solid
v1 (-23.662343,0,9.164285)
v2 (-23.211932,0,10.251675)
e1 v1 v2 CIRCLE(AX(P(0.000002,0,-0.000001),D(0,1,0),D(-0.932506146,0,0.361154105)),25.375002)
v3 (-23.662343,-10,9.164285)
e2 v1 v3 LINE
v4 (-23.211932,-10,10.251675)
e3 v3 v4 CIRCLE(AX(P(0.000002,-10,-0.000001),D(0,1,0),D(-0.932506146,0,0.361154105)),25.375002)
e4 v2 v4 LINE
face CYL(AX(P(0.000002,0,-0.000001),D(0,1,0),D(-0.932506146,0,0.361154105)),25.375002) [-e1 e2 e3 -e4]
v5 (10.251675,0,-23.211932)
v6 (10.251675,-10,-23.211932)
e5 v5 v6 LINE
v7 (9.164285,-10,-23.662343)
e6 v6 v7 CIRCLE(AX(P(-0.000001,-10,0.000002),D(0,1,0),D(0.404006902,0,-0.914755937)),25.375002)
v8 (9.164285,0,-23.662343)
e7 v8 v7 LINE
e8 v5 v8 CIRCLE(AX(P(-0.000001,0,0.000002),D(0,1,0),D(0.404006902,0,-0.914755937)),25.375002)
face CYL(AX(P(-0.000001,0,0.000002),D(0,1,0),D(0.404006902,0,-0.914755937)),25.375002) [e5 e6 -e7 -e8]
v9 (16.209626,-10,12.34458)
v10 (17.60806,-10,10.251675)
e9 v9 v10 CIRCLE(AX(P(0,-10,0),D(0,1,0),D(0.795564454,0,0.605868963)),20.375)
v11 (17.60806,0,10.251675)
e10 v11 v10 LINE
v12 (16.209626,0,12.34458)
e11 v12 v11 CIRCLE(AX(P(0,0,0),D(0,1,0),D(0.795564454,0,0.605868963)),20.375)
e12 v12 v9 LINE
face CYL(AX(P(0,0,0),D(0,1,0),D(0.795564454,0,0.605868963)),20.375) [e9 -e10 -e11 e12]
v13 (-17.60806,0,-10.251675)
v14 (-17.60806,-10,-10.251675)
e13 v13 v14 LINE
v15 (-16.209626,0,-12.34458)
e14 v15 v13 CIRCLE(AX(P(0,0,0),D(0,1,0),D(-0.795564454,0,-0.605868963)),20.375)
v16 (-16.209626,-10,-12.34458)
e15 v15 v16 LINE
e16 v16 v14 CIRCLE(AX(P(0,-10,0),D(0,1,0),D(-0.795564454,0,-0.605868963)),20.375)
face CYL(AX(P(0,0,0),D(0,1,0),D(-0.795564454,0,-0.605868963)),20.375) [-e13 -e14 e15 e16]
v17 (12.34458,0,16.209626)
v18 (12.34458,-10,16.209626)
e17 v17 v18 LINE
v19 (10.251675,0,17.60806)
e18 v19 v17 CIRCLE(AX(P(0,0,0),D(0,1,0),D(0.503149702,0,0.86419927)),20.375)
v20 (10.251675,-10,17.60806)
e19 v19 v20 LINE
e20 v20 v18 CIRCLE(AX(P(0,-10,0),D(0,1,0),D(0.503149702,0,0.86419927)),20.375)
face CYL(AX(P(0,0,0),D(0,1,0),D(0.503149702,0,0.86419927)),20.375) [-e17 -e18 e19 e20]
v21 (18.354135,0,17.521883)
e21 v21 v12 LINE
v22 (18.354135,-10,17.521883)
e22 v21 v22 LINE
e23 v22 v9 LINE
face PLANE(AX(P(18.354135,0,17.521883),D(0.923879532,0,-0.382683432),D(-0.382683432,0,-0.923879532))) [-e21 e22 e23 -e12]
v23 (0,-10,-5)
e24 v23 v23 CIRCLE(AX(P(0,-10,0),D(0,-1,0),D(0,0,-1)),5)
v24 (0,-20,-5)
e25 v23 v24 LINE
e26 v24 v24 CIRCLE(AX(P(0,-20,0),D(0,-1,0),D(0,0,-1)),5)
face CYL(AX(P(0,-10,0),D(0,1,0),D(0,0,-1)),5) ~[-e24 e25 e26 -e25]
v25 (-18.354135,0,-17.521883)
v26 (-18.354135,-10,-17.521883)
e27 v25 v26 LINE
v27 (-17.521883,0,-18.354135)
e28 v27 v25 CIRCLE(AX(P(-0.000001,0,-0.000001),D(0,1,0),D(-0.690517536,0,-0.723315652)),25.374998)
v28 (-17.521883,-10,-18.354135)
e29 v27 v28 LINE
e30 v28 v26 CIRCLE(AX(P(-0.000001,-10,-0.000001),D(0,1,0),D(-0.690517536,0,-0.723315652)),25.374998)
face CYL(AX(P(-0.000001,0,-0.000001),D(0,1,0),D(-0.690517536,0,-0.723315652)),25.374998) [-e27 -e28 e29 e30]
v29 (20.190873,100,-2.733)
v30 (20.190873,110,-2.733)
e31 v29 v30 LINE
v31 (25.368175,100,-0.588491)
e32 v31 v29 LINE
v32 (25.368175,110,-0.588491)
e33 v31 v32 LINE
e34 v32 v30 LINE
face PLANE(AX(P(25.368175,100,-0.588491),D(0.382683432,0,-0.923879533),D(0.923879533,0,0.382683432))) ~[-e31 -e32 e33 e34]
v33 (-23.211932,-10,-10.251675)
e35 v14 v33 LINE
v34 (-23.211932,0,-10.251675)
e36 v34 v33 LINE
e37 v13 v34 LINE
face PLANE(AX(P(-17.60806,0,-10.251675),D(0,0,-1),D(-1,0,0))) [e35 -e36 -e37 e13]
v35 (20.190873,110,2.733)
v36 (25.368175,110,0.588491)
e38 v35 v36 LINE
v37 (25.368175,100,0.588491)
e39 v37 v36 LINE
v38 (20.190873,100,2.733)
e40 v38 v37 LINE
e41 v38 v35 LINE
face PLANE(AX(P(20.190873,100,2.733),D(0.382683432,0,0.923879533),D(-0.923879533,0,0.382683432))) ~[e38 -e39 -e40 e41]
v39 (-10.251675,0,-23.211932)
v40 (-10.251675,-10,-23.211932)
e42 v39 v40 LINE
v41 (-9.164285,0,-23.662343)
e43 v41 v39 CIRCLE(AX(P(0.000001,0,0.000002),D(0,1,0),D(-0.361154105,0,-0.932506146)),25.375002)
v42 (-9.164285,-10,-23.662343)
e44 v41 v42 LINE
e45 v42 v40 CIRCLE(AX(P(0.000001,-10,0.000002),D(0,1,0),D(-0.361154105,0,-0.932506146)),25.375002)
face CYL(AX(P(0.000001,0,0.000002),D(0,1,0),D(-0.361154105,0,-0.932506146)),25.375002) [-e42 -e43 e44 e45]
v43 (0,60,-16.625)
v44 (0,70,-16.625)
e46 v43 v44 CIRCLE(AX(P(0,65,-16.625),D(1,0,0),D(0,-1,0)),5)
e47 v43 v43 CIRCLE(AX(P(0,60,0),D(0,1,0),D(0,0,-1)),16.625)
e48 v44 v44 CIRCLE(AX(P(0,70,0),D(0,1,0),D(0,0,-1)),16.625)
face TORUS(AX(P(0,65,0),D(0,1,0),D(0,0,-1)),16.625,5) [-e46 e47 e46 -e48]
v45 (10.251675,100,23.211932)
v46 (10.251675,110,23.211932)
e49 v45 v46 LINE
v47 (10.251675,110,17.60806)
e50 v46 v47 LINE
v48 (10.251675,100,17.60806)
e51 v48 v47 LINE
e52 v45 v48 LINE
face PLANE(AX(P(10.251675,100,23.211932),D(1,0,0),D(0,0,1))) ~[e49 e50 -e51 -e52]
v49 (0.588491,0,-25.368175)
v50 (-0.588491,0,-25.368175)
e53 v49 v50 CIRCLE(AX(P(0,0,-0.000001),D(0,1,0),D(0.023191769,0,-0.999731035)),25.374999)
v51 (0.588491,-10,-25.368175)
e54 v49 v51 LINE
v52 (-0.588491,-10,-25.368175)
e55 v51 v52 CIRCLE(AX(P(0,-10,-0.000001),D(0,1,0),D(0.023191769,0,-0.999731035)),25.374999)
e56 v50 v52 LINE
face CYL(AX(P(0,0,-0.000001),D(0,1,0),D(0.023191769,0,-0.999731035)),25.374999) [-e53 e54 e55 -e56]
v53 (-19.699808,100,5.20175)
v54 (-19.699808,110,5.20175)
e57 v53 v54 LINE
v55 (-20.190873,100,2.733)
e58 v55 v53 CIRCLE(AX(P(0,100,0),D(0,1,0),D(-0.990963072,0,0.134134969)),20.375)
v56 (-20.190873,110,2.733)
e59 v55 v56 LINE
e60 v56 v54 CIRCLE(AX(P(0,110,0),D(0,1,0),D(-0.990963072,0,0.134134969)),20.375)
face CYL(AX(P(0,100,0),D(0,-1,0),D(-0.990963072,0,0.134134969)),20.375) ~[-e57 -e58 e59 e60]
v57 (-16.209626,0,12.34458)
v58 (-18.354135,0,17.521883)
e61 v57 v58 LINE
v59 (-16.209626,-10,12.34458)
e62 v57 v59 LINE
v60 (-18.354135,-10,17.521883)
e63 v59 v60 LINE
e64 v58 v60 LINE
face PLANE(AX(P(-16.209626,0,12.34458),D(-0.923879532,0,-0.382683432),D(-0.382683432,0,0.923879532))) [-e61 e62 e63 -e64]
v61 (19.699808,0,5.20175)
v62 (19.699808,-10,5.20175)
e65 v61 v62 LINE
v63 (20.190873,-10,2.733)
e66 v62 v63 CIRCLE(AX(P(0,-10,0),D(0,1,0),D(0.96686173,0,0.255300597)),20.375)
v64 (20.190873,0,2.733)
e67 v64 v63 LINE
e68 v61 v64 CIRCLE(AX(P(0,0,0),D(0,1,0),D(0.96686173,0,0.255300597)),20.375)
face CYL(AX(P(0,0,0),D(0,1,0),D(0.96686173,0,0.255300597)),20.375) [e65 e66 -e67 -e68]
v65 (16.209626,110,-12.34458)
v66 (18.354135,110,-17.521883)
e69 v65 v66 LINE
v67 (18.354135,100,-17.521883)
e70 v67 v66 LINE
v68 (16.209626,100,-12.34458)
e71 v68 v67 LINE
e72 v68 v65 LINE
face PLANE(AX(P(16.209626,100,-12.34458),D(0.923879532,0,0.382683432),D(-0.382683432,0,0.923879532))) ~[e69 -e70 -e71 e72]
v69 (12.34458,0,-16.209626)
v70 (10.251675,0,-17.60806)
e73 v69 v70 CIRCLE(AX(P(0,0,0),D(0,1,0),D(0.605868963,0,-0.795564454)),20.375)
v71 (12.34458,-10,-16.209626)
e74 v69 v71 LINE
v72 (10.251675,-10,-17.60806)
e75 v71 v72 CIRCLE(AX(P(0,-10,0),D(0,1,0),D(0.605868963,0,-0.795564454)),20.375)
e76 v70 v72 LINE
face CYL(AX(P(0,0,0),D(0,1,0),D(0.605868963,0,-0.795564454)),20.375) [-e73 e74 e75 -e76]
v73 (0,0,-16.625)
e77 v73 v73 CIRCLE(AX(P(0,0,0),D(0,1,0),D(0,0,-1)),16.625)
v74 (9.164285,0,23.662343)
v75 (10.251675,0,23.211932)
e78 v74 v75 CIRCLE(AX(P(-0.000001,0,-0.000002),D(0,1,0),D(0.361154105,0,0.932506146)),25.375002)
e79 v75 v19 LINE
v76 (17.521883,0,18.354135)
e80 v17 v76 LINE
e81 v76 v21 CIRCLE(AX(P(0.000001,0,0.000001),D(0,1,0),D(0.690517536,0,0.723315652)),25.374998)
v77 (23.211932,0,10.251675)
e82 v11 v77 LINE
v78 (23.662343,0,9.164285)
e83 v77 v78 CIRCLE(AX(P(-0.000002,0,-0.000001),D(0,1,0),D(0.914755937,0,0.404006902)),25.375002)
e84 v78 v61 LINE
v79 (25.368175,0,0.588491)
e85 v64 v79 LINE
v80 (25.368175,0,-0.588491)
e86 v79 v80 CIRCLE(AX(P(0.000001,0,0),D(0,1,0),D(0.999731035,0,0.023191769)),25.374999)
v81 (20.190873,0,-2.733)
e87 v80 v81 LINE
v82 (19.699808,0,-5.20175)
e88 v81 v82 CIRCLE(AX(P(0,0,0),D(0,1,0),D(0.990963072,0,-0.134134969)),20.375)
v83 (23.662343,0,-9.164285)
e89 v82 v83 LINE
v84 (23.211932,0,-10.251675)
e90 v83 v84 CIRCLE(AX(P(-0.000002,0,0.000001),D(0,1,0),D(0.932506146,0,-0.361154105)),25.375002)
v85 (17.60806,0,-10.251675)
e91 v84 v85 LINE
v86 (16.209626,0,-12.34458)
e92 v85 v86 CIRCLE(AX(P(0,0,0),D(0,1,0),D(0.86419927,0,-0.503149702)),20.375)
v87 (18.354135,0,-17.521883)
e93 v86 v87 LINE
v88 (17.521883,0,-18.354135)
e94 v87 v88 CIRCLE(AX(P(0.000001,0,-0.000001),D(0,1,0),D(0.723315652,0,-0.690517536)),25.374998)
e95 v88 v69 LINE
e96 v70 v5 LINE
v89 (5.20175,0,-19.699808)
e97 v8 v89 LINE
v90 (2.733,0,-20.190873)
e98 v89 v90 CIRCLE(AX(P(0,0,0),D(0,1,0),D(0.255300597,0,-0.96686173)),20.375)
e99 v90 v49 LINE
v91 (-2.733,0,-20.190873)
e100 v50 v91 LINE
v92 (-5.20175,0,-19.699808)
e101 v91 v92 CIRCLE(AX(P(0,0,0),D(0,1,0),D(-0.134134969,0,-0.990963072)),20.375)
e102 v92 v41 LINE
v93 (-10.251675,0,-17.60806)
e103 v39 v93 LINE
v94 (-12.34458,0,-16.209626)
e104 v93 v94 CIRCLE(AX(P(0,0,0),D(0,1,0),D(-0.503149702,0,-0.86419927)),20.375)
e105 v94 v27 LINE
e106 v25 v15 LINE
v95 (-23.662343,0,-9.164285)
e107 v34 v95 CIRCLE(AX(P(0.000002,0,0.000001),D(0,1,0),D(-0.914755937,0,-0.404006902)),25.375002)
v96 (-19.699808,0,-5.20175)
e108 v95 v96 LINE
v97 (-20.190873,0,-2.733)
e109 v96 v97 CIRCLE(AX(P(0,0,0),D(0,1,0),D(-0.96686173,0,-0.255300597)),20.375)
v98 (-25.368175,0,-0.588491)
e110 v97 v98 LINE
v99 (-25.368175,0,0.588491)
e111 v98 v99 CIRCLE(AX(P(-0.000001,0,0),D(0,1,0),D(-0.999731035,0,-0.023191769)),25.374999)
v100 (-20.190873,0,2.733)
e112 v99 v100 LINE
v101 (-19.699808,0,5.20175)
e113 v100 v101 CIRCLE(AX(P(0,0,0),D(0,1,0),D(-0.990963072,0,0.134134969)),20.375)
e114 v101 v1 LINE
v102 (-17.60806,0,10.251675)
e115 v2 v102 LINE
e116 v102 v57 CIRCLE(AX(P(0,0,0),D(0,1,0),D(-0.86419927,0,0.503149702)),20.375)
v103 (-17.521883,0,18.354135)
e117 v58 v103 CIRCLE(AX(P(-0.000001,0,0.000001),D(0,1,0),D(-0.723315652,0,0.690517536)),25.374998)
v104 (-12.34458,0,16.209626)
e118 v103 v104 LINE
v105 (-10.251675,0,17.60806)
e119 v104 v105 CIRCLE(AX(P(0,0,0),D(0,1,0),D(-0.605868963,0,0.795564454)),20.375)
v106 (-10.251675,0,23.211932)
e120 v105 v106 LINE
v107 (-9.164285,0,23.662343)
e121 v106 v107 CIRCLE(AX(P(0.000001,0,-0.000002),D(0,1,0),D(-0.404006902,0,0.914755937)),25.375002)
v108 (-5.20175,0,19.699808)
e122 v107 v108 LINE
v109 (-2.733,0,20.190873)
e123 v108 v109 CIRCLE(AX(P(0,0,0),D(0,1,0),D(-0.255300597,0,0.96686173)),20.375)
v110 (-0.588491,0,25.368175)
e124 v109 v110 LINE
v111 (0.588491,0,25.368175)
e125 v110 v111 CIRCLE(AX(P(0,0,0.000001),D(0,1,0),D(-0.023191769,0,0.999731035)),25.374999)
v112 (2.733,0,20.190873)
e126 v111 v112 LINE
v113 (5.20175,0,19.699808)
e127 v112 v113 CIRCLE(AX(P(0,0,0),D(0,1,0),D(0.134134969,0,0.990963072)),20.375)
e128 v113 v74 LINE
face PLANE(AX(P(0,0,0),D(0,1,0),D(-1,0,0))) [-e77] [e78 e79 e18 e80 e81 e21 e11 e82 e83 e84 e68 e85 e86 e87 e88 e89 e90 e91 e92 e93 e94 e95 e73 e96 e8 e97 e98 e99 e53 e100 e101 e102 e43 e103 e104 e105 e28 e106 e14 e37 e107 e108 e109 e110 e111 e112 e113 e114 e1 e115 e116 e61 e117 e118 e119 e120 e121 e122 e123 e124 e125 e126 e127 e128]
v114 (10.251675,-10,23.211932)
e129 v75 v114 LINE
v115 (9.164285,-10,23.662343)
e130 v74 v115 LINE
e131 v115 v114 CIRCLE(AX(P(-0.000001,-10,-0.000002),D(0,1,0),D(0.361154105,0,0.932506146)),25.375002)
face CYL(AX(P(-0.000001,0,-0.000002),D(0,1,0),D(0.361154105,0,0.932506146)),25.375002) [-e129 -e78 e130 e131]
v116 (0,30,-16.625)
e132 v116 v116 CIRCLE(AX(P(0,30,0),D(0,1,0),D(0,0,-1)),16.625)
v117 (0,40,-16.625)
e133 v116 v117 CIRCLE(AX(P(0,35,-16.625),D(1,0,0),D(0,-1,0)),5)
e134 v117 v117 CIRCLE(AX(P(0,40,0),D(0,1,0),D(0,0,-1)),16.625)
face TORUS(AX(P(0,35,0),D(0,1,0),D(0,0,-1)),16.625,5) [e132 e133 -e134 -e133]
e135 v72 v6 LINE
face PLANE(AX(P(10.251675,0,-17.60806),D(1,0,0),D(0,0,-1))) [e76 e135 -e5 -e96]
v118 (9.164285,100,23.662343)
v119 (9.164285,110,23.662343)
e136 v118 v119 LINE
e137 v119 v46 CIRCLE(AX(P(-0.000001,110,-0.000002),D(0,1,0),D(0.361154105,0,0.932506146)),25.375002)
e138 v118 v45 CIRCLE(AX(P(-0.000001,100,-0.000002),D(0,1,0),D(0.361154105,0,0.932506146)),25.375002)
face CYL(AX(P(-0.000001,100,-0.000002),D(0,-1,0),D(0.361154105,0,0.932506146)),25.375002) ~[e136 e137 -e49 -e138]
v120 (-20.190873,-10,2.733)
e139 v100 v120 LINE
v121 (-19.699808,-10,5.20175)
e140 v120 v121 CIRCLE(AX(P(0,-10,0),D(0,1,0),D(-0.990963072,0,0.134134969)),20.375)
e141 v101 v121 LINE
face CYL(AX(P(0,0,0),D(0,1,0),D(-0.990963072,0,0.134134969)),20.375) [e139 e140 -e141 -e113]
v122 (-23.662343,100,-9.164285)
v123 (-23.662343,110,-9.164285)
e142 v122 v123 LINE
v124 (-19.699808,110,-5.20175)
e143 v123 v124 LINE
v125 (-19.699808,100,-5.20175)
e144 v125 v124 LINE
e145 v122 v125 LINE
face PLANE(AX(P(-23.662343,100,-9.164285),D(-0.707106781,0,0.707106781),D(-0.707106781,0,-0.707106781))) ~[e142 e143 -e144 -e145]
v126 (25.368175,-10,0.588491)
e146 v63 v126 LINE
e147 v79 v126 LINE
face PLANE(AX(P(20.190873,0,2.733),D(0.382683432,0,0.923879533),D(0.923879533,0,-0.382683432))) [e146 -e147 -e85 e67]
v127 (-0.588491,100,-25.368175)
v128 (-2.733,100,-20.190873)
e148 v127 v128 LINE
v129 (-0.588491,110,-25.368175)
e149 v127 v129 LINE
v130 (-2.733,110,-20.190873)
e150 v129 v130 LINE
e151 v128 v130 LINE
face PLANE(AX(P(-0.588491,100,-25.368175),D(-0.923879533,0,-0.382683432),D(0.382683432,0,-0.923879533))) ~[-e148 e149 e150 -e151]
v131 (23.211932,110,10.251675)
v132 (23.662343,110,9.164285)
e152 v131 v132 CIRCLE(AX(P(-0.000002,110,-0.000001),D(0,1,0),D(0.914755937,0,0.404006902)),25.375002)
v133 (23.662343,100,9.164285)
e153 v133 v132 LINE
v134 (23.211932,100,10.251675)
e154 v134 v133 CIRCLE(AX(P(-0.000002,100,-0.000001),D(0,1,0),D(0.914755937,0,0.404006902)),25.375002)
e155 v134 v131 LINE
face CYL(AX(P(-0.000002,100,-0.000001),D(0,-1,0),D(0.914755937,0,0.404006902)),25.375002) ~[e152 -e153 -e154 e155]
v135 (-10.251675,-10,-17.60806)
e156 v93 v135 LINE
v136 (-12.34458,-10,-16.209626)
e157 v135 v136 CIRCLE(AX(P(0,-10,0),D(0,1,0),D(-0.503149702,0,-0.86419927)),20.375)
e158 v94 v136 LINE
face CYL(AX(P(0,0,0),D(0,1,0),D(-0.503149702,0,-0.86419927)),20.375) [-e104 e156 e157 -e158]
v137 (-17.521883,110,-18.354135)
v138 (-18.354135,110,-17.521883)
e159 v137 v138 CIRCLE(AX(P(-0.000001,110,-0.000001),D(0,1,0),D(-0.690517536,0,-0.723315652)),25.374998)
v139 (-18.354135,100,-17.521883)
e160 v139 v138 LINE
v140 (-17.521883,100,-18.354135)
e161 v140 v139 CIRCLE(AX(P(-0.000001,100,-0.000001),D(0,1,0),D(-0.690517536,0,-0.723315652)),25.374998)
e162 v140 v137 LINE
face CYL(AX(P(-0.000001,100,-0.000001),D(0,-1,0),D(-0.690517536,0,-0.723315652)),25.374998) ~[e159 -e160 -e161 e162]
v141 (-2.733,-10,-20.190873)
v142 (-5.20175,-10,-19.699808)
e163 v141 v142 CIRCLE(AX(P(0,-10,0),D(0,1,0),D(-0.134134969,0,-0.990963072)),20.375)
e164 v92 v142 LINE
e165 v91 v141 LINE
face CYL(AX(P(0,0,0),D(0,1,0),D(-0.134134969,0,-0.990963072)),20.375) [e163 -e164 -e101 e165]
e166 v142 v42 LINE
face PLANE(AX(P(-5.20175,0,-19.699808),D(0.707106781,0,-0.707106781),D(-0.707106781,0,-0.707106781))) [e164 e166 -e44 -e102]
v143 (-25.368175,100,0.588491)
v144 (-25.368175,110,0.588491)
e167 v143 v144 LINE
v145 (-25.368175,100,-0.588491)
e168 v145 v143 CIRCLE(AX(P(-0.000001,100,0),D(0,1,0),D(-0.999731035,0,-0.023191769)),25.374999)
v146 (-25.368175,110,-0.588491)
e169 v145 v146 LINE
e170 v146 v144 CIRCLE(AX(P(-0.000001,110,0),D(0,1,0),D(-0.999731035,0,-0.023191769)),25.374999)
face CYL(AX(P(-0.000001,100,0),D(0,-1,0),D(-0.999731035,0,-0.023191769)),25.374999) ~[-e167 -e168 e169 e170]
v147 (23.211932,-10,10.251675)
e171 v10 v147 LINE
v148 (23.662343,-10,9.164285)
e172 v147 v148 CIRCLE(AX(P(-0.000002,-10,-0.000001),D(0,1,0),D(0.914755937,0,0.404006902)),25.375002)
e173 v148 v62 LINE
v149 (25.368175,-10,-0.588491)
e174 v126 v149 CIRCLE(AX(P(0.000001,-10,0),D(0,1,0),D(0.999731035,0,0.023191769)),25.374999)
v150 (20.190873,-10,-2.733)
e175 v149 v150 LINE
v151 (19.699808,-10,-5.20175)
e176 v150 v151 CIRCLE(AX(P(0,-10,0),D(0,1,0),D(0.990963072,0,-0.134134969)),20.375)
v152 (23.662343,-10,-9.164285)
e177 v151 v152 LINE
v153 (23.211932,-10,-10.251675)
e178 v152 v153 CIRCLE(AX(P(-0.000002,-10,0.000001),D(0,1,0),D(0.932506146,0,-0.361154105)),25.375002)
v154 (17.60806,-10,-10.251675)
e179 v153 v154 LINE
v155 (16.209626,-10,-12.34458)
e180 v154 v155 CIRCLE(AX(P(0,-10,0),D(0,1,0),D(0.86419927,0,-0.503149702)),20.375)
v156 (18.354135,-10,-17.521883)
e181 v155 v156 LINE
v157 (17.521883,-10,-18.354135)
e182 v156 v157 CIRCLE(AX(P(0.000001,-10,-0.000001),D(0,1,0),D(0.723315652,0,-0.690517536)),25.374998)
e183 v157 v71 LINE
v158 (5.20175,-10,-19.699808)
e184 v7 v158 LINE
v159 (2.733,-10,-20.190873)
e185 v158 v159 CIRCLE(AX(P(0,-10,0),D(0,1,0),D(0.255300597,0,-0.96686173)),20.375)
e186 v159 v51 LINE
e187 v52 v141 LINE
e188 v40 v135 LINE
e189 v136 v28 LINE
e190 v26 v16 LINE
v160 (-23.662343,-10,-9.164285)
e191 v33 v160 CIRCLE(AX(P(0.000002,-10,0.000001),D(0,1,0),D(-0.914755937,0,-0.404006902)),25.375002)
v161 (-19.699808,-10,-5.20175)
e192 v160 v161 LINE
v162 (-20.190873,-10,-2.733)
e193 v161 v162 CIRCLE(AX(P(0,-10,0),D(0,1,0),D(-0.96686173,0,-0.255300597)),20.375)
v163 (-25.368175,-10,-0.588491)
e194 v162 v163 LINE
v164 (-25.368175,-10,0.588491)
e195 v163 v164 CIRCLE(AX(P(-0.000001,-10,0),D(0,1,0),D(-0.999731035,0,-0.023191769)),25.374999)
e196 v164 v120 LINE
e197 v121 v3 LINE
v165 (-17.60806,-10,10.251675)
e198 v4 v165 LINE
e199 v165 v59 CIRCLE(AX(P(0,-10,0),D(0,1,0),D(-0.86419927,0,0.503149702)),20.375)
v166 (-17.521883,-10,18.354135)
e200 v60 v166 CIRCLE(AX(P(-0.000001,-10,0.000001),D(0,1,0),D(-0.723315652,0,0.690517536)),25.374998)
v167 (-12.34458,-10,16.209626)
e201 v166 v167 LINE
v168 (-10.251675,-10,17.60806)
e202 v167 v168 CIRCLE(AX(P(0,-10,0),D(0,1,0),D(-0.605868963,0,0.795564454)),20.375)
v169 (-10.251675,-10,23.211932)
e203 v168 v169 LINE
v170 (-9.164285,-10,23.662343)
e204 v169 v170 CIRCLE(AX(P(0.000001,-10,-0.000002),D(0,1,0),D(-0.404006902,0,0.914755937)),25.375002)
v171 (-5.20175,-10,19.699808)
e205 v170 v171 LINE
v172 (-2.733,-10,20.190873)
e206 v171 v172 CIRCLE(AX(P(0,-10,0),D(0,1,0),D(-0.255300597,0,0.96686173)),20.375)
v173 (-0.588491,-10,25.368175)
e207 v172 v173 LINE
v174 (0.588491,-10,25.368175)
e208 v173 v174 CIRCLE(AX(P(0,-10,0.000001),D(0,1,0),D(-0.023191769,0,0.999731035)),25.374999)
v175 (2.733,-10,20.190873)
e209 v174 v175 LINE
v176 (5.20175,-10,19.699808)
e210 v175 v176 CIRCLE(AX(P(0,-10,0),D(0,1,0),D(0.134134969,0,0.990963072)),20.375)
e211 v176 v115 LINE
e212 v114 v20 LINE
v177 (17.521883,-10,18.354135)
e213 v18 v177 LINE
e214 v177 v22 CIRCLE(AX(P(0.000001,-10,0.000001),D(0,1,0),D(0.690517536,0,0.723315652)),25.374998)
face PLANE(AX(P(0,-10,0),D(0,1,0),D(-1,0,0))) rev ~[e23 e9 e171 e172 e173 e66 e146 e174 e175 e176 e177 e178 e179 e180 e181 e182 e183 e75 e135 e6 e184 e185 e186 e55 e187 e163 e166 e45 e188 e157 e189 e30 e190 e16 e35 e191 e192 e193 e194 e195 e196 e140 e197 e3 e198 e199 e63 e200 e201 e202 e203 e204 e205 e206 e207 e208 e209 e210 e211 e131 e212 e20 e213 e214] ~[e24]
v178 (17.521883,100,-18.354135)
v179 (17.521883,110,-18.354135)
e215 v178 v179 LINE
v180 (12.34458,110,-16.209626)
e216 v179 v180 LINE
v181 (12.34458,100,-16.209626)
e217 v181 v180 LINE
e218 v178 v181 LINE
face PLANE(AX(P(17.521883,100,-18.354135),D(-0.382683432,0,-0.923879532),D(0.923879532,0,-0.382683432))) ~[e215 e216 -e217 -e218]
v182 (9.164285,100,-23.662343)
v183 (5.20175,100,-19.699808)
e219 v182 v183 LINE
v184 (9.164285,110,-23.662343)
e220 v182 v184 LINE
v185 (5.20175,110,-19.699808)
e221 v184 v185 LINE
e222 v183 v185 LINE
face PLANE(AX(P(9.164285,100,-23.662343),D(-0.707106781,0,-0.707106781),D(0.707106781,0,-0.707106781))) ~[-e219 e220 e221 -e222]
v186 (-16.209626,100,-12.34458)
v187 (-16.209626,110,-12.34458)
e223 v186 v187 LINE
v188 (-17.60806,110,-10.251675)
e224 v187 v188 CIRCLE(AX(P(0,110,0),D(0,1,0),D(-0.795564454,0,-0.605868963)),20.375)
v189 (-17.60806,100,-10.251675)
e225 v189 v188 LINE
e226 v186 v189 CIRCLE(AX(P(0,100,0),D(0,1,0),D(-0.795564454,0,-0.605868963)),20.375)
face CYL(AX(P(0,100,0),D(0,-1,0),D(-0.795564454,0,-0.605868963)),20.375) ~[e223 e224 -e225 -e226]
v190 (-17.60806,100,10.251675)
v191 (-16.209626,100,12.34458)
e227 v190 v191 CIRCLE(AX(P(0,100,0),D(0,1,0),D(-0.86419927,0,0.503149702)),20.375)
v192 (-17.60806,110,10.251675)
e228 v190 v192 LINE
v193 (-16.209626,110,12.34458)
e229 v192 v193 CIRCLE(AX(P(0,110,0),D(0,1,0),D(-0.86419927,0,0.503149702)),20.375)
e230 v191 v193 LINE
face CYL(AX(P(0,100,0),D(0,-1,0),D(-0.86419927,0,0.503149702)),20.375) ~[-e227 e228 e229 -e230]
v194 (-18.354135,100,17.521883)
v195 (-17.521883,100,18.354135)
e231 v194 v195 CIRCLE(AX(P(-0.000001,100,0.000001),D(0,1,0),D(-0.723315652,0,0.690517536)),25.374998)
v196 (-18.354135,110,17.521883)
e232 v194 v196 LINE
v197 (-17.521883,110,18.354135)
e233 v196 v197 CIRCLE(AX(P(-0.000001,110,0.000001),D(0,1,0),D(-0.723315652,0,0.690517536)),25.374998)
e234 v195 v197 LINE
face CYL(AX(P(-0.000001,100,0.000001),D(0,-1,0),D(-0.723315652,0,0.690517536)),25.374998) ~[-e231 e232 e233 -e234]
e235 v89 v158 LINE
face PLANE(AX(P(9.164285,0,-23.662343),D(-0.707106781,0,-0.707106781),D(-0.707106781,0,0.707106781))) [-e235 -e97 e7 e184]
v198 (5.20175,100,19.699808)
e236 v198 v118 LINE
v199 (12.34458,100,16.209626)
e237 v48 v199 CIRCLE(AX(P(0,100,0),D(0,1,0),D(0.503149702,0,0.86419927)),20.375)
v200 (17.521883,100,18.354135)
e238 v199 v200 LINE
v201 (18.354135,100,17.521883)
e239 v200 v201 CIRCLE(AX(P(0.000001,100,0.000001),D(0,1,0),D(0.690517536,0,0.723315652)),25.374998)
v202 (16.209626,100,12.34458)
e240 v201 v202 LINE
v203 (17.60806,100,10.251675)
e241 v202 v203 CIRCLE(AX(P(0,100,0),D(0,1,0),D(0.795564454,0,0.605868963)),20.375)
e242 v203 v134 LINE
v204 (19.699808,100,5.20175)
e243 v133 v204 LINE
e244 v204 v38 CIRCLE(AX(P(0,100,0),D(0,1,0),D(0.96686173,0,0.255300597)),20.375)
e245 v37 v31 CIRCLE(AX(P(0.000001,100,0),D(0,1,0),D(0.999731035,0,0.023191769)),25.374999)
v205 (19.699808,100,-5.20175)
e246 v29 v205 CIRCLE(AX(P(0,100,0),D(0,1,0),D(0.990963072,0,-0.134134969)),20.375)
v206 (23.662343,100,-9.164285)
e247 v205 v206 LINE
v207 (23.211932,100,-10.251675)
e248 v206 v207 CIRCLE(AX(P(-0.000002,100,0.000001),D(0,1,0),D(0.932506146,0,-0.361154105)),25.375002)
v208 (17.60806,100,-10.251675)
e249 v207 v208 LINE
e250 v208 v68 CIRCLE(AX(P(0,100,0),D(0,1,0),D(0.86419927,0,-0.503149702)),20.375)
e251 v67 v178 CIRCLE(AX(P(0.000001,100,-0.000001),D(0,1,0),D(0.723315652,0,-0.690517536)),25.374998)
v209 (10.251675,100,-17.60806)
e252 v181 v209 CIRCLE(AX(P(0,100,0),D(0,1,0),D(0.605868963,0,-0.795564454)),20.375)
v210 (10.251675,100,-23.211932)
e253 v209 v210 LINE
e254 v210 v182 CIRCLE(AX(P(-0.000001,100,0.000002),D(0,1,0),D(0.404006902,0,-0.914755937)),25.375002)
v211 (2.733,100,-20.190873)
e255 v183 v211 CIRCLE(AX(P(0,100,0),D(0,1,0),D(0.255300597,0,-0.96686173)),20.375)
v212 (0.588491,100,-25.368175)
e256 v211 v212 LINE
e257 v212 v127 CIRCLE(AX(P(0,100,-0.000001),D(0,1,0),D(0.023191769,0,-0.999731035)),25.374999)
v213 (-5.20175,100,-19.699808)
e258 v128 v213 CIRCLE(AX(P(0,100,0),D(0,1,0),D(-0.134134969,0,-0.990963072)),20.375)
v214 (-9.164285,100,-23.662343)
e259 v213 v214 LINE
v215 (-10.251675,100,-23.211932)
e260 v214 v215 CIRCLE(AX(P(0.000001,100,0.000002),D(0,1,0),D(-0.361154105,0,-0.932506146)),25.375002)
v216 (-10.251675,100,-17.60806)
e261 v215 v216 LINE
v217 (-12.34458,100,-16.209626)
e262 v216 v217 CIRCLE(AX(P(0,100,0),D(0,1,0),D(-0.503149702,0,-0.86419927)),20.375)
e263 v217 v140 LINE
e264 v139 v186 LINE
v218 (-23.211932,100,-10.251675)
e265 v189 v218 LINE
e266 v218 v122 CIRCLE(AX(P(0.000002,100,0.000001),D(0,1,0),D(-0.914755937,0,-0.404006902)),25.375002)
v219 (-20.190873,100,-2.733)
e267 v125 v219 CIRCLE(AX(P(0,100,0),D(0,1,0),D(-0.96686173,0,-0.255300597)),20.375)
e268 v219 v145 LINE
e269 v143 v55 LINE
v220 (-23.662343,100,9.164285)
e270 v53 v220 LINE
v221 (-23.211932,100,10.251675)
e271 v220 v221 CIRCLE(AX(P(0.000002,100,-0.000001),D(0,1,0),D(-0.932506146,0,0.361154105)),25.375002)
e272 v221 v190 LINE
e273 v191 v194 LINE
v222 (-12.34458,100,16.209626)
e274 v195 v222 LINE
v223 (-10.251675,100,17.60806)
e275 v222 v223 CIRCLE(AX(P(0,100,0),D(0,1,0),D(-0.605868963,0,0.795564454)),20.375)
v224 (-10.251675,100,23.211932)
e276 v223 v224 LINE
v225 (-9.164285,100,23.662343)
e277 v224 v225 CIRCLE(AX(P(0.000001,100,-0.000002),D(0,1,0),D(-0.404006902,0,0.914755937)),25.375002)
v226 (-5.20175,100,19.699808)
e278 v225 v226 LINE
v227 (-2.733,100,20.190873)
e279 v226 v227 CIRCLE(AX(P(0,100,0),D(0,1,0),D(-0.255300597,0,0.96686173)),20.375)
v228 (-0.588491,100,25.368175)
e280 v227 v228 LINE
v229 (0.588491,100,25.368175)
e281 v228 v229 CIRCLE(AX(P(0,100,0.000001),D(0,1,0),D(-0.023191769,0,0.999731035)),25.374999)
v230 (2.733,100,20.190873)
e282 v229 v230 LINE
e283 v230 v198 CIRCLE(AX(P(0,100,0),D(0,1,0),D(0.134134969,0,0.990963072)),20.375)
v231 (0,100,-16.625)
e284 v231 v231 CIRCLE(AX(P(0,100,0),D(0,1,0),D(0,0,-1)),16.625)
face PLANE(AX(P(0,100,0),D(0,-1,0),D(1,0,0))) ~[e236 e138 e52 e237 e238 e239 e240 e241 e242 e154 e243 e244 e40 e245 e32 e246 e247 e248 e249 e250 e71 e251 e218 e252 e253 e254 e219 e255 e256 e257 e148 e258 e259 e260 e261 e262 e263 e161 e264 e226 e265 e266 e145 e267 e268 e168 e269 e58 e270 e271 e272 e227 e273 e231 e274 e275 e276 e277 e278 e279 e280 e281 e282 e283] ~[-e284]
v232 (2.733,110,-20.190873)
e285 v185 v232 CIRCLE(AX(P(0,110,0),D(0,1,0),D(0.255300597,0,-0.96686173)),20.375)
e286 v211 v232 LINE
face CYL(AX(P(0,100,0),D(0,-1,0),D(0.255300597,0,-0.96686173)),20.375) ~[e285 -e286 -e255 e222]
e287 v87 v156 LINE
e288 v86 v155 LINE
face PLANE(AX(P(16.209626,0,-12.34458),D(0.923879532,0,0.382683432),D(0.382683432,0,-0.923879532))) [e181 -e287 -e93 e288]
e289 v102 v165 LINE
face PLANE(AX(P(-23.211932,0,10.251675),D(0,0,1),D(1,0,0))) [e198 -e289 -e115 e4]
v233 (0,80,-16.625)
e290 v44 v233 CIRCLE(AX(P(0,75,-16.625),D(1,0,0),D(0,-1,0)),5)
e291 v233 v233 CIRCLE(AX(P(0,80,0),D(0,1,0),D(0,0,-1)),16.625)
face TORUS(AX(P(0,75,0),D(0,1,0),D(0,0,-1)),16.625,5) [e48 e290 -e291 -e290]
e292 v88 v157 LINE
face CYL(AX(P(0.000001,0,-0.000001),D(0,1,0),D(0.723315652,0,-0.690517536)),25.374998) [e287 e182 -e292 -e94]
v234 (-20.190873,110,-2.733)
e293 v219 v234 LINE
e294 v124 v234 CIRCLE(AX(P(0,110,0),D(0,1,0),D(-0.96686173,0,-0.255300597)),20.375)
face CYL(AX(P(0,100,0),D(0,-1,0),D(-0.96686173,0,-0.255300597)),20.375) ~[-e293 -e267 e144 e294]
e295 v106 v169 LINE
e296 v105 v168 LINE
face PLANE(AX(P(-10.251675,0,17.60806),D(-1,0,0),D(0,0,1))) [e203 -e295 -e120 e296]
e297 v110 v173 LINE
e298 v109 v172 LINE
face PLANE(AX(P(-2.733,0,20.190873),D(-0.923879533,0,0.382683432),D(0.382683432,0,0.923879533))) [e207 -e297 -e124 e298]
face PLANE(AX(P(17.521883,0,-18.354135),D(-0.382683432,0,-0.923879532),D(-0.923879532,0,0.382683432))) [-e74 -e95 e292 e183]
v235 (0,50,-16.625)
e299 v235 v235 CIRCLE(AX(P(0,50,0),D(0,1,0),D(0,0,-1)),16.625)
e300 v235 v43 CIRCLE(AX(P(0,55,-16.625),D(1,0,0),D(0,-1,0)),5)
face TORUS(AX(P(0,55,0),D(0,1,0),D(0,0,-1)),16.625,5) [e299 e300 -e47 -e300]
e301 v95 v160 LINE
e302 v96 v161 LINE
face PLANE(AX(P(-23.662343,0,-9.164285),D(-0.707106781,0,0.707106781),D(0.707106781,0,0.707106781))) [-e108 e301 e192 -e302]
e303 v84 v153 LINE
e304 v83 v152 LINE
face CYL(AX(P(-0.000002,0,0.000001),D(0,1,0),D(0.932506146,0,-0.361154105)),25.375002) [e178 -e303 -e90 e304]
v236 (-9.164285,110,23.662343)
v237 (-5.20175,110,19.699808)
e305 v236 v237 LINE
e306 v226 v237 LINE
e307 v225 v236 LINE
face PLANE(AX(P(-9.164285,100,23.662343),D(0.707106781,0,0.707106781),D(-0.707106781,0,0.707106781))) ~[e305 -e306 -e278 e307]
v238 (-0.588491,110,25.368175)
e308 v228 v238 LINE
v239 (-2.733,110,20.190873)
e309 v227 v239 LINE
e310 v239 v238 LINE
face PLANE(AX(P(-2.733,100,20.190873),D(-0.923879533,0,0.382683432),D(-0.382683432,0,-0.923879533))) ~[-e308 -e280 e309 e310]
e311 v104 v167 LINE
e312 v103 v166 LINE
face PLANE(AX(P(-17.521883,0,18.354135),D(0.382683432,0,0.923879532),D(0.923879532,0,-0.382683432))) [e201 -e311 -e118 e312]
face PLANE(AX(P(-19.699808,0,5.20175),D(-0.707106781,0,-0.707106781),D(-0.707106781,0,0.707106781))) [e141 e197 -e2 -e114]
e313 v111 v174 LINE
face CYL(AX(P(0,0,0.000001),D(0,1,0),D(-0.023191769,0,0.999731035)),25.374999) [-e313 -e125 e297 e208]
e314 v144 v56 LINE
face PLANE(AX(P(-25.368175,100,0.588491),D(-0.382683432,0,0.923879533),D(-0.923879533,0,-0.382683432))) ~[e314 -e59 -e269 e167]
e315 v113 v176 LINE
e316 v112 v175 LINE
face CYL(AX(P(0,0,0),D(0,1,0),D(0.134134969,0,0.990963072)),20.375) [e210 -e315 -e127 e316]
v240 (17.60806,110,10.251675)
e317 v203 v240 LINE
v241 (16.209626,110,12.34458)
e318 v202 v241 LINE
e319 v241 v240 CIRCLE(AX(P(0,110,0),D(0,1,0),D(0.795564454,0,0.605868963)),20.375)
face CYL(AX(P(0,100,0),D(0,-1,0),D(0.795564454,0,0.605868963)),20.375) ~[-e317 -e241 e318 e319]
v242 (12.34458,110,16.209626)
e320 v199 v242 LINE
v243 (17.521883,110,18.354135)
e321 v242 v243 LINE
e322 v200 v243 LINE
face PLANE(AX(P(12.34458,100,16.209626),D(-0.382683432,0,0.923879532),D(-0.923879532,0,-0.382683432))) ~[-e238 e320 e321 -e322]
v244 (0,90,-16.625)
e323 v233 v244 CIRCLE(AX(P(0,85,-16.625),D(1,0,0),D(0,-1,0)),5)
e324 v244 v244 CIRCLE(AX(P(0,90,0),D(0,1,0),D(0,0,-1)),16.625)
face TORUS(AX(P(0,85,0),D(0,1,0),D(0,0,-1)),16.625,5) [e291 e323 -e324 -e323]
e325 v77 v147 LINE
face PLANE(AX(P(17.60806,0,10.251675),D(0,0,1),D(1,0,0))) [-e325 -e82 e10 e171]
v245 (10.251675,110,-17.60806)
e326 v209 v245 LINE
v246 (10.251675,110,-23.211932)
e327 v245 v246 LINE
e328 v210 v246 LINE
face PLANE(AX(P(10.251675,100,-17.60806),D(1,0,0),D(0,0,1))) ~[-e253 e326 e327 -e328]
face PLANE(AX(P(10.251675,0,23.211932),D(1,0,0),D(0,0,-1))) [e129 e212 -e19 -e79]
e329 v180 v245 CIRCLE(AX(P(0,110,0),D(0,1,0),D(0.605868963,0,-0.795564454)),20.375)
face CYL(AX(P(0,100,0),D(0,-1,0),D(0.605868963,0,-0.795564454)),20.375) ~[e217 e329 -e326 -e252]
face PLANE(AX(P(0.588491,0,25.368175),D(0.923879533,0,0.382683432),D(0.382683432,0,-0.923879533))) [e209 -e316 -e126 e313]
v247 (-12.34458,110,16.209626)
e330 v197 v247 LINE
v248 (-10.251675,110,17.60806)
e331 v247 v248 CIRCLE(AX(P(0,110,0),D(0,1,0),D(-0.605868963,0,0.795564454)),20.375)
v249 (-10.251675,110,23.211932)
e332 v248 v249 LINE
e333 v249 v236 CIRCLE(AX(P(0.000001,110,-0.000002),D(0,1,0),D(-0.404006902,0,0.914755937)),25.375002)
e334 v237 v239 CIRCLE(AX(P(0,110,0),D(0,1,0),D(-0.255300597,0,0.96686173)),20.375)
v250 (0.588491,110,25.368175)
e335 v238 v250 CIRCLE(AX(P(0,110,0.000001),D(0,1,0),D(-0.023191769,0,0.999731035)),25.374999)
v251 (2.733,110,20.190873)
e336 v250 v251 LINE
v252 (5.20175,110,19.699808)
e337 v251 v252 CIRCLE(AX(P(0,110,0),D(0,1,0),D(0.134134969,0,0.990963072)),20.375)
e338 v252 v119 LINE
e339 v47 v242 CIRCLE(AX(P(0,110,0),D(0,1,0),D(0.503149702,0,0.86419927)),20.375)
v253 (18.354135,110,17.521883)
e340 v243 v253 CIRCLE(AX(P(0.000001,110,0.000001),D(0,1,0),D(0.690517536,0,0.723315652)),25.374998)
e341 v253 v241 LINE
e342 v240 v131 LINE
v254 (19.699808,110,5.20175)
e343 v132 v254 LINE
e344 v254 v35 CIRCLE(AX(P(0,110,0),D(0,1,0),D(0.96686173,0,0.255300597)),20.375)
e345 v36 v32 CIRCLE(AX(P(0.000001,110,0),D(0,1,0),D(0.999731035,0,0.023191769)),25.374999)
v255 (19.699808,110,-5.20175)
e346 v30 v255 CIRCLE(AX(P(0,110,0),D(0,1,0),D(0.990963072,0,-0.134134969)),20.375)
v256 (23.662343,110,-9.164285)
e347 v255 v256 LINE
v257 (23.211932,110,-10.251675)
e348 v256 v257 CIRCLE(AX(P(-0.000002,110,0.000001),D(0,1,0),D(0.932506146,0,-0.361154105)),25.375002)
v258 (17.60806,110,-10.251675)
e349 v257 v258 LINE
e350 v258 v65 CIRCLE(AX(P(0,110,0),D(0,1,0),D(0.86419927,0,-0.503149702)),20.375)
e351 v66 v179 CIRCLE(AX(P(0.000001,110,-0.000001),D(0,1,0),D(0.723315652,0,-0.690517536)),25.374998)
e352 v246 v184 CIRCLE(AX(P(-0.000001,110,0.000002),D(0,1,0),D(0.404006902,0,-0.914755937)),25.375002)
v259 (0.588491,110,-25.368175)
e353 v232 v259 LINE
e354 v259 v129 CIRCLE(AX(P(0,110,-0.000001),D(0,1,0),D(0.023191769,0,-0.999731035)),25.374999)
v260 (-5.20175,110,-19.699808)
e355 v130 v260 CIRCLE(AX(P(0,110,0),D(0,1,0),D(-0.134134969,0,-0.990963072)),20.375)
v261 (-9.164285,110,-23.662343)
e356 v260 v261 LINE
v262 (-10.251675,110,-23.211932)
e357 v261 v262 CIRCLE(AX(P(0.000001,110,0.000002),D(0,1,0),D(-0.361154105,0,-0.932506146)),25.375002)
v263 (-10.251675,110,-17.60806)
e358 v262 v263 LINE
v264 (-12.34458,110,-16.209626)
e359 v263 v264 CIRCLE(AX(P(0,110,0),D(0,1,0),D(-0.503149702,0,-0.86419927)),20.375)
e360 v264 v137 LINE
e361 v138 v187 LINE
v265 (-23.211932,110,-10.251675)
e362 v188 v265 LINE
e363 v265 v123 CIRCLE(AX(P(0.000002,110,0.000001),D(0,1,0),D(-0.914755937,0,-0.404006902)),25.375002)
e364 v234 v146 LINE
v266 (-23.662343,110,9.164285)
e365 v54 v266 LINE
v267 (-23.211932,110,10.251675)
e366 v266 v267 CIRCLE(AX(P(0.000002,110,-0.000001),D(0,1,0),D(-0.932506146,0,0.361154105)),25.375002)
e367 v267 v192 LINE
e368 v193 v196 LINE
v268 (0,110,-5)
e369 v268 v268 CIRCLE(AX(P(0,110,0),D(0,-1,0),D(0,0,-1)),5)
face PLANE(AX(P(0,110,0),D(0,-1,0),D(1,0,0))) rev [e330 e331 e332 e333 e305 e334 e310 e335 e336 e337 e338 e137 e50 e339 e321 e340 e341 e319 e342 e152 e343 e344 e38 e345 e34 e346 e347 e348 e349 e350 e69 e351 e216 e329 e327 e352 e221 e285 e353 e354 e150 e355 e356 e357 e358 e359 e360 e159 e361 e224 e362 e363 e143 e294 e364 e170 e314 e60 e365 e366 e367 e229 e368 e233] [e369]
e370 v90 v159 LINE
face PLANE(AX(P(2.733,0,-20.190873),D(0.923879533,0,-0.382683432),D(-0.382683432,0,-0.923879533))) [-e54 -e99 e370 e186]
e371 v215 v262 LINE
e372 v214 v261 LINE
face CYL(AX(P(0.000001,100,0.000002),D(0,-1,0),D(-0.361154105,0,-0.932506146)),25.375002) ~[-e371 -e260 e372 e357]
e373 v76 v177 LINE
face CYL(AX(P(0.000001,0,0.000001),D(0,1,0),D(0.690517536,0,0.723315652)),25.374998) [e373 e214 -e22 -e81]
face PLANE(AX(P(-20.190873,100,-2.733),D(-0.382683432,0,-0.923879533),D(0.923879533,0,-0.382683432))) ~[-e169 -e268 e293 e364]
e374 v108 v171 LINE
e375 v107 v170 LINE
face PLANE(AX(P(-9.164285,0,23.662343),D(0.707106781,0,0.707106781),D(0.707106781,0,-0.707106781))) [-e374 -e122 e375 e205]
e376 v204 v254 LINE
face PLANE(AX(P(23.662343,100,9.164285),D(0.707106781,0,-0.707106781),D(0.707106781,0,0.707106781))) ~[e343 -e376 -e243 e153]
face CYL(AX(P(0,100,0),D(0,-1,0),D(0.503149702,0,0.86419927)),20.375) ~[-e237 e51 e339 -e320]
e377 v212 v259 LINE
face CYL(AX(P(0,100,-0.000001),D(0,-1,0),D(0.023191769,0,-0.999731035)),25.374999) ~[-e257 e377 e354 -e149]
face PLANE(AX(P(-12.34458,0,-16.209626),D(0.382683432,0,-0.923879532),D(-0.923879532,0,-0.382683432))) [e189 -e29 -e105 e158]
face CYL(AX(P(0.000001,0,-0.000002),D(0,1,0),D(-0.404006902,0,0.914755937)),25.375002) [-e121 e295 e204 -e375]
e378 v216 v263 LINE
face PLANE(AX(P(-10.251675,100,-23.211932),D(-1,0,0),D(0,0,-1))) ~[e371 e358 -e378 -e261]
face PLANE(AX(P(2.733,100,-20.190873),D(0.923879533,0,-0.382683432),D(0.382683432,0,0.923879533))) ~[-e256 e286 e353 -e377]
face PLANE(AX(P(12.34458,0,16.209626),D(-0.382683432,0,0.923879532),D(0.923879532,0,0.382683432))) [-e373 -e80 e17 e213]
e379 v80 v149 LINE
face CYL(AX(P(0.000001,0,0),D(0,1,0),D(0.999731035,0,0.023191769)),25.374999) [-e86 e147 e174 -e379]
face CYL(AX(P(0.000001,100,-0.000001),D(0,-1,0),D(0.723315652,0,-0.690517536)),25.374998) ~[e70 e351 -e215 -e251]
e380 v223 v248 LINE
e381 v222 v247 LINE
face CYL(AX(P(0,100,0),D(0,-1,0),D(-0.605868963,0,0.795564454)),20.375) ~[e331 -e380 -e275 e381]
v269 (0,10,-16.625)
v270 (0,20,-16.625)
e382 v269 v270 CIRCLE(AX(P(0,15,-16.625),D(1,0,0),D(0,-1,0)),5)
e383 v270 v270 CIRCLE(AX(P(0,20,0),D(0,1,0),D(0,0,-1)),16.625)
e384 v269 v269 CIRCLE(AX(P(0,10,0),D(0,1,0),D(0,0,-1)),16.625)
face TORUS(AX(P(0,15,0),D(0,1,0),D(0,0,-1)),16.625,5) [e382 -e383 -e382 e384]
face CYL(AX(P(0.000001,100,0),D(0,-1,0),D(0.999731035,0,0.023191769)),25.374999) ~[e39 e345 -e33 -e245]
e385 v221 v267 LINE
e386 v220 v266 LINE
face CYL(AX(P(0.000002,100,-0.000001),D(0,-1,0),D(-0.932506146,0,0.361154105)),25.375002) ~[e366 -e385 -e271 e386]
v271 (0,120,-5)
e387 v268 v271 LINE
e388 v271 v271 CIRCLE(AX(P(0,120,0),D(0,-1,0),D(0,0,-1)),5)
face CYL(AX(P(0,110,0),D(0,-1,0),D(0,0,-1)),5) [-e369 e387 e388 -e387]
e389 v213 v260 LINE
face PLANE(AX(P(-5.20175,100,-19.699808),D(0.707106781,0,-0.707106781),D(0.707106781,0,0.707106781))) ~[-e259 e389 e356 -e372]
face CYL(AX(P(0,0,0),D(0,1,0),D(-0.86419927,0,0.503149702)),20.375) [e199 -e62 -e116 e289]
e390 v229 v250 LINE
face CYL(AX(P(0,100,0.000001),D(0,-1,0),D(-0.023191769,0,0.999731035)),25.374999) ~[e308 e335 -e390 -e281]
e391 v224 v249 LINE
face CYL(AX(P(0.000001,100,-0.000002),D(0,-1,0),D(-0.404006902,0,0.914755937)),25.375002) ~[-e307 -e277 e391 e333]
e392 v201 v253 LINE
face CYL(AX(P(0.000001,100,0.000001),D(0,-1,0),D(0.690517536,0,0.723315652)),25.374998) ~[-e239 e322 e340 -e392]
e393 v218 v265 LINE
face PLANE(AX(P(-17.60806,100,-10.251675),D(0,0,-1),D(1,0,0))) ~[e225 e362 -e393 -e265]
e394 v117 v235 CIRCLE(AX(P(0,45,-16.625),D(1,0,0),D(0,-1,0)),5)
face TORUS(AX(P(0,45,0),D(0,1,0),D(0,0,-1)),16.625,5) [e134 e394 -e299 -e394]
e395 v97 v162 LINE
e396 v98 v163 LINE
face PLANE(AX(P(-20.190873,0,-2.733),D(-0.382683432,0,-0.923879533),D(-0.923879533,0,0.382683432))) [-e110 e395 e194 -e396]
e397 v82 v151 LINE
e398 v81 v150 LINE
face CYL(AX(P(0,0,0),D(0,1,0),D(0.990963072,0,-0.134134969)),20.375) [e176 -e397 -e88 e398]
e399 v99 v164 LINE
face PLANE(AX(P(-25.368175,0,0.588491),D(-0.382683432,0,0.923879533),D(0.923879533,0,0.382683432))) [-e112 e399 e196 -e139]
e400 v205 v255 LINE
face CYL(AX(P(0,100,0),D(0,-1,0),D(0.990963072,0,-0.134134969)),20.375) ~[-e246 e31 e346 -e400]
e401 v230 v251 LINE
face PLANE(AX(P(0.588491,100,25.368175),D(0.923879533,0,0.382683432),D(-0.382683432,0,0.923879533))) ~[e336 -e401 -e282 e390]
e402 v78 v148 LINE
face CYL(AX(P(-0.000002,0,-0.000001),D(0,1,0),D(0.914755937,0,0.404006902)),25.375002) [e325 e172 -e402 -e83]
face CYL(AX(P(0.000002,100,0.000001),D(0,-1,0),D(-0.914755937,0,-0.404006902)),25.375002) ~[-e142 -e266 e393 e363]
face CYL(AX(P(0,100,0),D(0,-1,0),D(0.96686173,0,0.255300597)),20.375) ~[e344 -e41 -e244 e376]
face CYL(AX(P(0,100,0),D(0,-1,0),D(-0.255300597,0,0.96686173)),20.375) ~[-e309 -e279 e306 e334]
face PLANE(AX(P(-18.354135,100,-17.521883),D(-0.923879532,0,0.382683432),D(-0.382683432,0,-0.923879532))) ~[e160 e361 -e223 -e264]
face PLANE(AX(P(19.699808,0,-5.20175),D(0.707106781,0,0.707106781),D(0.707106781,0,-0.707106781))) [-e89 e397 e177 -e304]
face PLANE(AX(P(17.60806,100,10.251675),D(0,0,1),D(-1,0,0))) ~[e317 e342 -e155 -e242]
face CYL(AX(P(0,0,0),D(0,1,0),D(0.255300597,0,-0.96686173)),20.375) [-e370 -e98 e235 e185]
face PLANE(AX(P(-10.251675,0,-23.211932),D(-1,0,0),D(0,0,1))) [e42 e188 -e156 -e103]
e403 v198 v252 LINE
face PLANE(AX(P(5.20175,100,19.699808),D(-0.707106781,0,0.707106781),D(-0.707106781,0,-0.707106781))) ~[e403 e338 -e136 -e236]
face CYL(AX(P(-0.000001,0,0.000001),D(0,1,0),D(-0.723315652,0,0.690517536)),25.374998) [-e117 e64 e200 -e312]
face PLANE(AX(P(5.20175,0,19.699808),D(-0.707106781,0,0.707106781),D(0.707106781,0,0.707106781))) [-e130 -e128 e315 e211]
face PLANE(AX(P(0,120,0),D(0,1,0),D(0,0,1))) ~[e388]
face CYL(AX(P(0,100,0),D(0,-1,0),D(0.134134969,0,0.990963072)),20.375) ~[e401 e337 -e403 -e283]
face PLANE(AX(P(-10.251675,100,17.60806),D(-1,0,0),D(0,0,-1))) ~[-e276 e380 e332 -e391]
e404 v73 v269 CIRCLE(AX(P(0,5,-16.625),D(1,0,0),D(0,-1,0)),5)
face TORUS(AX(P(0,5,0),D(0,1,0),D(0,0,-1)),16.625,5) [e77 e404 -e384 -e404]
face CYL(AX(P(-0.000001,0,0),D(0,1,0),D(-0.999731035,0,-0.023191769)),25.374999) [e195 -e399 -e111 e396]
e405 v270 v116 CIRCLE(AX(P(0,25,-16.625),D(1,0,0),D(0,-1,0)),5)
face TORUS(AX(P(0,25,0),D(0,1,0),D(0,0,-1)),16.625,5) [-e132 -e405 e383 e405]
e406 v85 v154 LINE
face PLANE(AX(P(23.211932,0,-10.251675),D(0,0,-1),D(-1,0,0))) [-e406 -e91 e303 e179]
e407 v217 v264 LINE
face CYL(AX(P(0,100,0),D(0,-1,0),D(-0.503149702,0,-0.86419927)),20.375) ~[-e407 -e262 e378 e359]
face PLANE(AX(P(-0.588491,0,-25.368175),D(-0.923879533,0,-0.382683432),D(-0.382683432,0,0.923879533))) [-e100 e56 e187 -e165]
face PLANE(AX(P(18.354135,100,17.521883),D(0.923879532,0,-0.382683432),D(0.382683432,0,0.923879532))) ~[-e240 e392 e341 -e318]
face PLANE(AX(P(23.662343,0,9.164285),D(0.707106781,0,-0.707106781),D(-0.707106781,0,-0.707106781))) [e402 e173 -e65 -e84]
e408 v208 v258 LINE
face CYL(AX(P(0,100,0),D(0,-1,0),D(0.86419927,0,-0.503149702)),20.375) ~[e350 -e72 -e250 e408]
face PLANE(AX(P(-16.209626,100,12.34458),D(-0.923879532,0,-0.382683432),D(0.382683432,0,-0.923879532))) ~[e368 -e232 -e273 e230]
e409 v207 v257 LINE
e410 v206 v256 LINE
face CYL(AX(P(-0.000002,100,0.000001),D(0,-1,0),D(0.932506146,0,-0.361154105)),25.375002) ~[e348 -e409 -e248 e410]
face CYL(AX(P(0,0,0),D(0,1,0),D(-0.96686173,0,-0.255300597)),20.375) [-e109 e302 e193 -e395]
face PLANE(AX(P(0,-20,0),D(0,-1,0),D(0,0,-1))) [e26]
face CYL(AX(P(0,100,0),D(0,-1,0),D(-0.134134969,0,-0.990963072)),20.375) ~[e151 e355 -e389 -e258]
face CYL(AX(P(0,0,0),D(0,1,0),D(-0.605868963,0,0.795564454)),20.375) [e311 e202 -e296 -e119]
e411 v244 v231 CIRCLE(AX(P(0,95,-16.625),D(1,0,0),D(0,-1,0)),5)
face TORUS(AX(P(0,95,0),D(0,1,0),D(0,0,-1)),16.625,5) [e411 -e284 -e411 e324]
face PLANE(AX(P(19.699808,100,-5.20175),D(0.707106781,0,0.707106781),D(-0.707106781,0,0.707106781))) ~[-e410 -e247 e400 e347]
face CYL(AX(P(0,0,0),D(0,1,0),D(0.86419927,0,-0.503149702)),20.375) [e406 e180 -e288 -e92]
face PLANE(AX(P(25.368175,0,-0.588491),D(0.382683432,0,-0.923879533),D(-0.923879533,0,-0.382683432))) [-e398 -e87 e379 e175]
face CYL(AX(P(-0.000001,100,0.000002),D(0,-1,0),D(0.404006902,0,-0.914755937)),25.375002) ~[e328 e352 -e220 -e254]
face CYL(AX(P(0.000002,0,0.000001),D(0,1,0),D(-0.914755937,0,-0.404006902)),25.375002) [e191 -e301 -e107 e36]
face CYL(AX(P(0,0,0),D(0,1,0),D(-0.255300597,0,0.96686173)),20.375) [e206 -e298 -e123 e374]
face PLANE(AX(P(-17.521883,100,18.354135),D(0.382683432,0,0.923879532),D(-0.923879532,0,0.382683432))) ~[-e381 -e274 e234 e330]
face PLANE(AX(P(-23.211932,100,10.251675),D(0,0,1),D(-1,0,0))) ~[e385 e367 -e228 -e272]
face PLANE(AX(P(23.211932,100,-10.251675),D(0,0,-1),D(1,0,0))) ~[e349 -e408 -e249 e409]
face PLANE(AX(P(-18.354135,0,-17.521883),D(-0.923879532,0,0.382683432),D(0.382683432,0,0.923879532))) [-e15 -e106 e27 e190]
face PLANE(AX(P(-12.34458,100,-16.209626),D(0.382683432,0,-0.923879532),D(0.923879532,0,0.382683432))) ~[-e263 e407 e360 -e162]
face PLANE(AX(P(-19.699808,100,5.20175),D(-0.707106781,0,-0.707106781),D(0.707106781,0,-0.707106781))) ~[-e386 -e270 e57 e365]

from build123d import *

# Parameters (mm, degrees)
SKETCH6_W           = 100
SKETCH6_H           = 16.625
BOSS_EXTRUDE3_DEPTH = 10
SKETCH4_R           = 5
BOSS_EXTRUDE4_DEPTH = 10


with BuildPart() as part:
    # Sketch6 → Revolve1 (revolve)
    with BuildSketch(Plane(origin=(0, 0, 0), x_dir=(0, 1, 0), z_dir=(0, 0, 1)), mode=Mode.PRIVATE) as revolve1_sk:
        with Locations((50, -8.3125)):
            Rectangle(SKETCH6_W, SKETCH6_H)
        with BuildLine():
            Line((10, -16.625), (0, -16.625))
            ThreePointArc((0, -16.625), (5, -21.625), (10, -16.625))
        make_face()
        with BuildLine():
            Line((20, -16.625), (10, -16.625))
            ThreePointArc((10, -16.625), (15, -21.625), (20, -16.625))
        make_face()
        with BuildLine():
            Line((30, -16.625), (20, -16.625))
            ThreePointArc((20, -16.625), (25, -21.625), (30, -16.625))
        make_face()
        with BuildLine():
            Line((40, -16.625), (30, -16.625))
            ThreePointArc((30, -16.625), (35, -21.625), (40, -16.625))
        make_face()
        with BuildLine():
            Line((50, -16.625), (40, -16.625))
            ThreePointArc((40, -16.625), (45, -21.625), (50, -16.625))
        make_face()
        with BuildLine():
            ThreePointArc((50, -16.625), (55, -21.625), (60, -16.625))
            Line((60, -16.625), (50, -16.625))
        make_face()
        with BuildLine():
            ThreePointArc((60, -16.625), (65, -21.625), (70, -16.625))
            Line((70, -16.625), (60, -16.625))
        make_face()
        with BuildLine():
            ThreePointArc((70, -16.625), (75, -21.625), (80, -16.625))
            Line((80, -16.625), (70, -16.625))
        make_face()
        with BuildLine():
            ThreePointArc((80, -16.625), (85, -21.625), (90, -16.625))
            Line((90, -16.625), (80, -16.625))
        make_face()
        with BuildLine():
            ThreePointArc((90, -16.625), (95, -21.625), (100, -16.625))
            Line((100, -16.625), (90, -16.625))
        make_face()
    revolve(revolve1_sk.sketch.rotate(Axis((0, 0, 0), (0, 1, 0)), 90), axis=Axis((0, 0, 0), (0, 1, 0)))

    # Sketch3 → Boss-Extrude3 (add)
    with BuildSketch(Plane.XZ):
        with BuildLine():
            Line((-2.733, 20.190872591), (-0.588491123, 25.368175007))
            ThreePointArc((-0.588491123, 25.368175007), (0, 25.375), (0.588491123, 25.368175007))
            Line((0.588491123, 25.368175007), (2.733, 20.190872591))
            ThreePointArc((2.733, 20.190872591), (3.974965311, 19.983500088), (5.201749663, 19.699807751))
            Line((5.201749663, 19.699807751), (9.164285381, 23.662343469))
            ThreePointArc((9.164285381, 23.662343469), (9.710592096, 23.443443137), (10.251675188, 23.211931864))
            Line((10.251675188, 23.211931864), (10.251675188, 17.60806011))
            ThreePointArc((10.251675188, 17.60806011), (11.319743498, 16.941193351), (12.344580094, 16.20962576))
            Line((12.344580094, 16.20962576), (17.52188251, 18.354134638))
            ThreePointArc((17.52188251, 18.354134638), (17.942834573, 17.942834573), (18.354134638, 17.52188251))
            Line((18.354134638, 17.52188251), (16.20962576, 12.344580094))
            ThreePointArc((16.20962576, 12.344580094), (16.941193351, 11.319743498), (17.60806011, 10.251675188))
            Line((17.60806011, 10.251675188), (23.211931864, 10.251675188))
            ThreePointArc((23.211931864, 10.251675188), (23.443443137, 9.710592096), (23.662343469, 9.164285381))
            Line((23.662343469, 9.164285381), (19.699807751, 5.201749663))
            ThreePointArc((19.699807751, 5.201749663), (19.983500088, 3.974965311), (20.190872591, 2.733))
            Line((20.190872591, 2.733), (25.368175007, 0.588491123))
            ThreePointArc((25.368175007, 0.588491123), (25.375, 0), (25.368175007, -0.588491123))
            Line((25.368175007, -0.588491123), (20.190872591, -2.733))
            ThreePointArc((20.190872591, -2.733), (19.983500088, -3.974965311), (19.699807751, -5.201749663))
            Line((19.699807751, -5.201749663), (23.662343469, -9.164285381))
            ThreePointArc((23.662343469, -9.164285381), (23.443443137, -9.710592096), (23.211931864, -10.251675188))
            Line((23.211931864, -10.251675188), (17.60806011, -10.251675188))
            ThreePointArc((17.60806011, -10.251675188), (16.941193351, -11.319743498), (16.20962576, -12.344580094))
            Line((16.20962576, -12.344580094), (18.354134638, -17.52188251))
            ThreePointArc((18.354134638, -17.52188251), (17.942834573, -17.942834573), (17.52188251, -18.354134638))
            Line((17.52188251, -18.354134638), (12.344580094, -16.20962576))
            ThreePointArc((12.344580094, -16.20962576), (11.319743498, -16.941193351), (10.251675188, -17.60806011))
            Line((10.251675188, -17.60806011), (10.251675188, -23.211931864))
            ThreePointArc((10.251675188, -23.211931864), (9.710592096, -23.443443137), (9.164285381, -23.662343469))
            Line((9.164285381, -23.662343469), (5.201749663, -19.699807751))
            ThreePointArc((5.201749663, -19.699807751), (3.974965311, -19.983500088), (2.733, -20.190872591))
            Line((2.733, -20.190872591), (0.588491123, -25.368175007))
            ThreePointArc((0.588491123, -25.368175007), (0, -25.375), (-0.588491123, -25.368175007))
            Line((-0.588491123, -25.368175007), (-2.733, -20.190872591))
            ThreePointArc((-2.733, -20.190872591), (-3.974965311, -19.983500088), (-5.201749663, -19.699807751))
            Line((-5.201749663, -19.699807751), (-9.164285381, -23.662343469))
            ThreePointArc((-9.164285381, -23.662343469), (-9.710592096, -23.443443137), (-10.251675188, -23.211931864))
            Line((-10.251675188, -23.211931864), (-10.251675188, -17.60806011))
            ThreePointArc((-10.251675188, -17.60806011), (-11.319743498, -16.941193351), (-12.344580094, -16.20962576))
            Line((-12.344580094, -16.20962576), (-17.52188251, -18.354134638))
            ThreePointArc((-17.52188251, -18.354134638), (-17.942834573, -17.942834573), (-18.354134638, -17.52188251))
            Line((-18.354134638, -17.52188251), (-16.20962576, -12.344580094))
            ThreePointArc((-16.20962576, -12.344580094), (-16.941193351, -11.319743498), (-17.60806011, -10.251675188))
            Line((-17.60806011, -10.251675188), (-23.211931864, -10.251675188))
            ThreePointArc((-23.211931864, -10.251675188), (-23.443443137, -9.710592096), (-23.662343469, -9.164285381))
            Line((-23.662343469, -9.164285381), (-19.699807751, -5.201749663))
            ThreePointArc((-19.699807751, -5.201749663), (-19.983500088, -3.974965311), (-20.190872591, -2.733))
            Line((-20.190872591, -2.733), (-25.368175007, -0.588491123))
            ThreePointArc((-25.368175007, -0.588491123), (-25.375, 0), (-25.368175007, 0.588491123))
            Line((-25.368175007, 0.588491123), (-20.190872591, 2.733))
            ThreePointArc((-20.190872591, 2.733), (-19.983500088, 3.974965311), (-19.699807751, 5.201749663))
            Line((-19.699807751, 5.201749663), (-23.662343469, 9.164285381))
            ThreePointArc((-23.662343469, 9.164285381), (-23.443443137, 9.710592096), (-23.211931864, 10.251675188))
            Line((-23.211931864, 10.251675188), (-17.60806011, 10.251675188))
            ThreePointArc((-17.60806011, 10.251675188), (-16.941193351, 11.319743498), (-16.20962576, 12.344580094))
            Line((-16.20962576, 12.344580094), (-18.354134638, 17.52188251))
            ThreePointArc((-18.354134638, 17.52188251), (-17.942834573, 17.942834573), (-17.52188251, 18.354134638))
            Line((-17.52188251, 18.354134638), (-12.344580094, 16.20962576))
            ThreePointArc((-12.344580094, 16.20962576), (-11.319743498, 16.941193351), (-10.251675188, 17.60806011))
            Line((-10.251675188, 17.60806011), (-10.251675188, 23.211931864))
            ThreePointArc((-10.251675188, 23.211931864), (-9.710592096, 23.443443137), (-9.164285381, 23.662343469))
            Line((-9.164285381, 23.662343469), (-5.201749663, 19.699807751))
            ThreePointArc((-5.201749663, 19.699807751), (-3.974965311, 19.983500088), (-2.733, 20.190872591))
        make_face()
    boss_extrude3 = extrude(amount=BOSS_EXTRUDE3_DEPTH)

    # Mirror1: Boss-Extrude3 across plane
    add(boss_extrude3.mirror(Plane.ZX.offset(50)))

    # Sketch4 → Boss-Extrude4 (add)
    with BuildSketch(Plane.XZ.offset(10)):
        with Locations(Location((0, 0, 0), (0, 0, 270))):
            Circle(SKETCH4_R)
    boss_extrude4 = extrude(amount=BOSS_EXTRUDE4_DEPTH)

    # Mirror2: Boss-Extrude4 across plane
    add(boss_extrude4.mirror(Plane.ZX.offset(50)))


solid = part.part
